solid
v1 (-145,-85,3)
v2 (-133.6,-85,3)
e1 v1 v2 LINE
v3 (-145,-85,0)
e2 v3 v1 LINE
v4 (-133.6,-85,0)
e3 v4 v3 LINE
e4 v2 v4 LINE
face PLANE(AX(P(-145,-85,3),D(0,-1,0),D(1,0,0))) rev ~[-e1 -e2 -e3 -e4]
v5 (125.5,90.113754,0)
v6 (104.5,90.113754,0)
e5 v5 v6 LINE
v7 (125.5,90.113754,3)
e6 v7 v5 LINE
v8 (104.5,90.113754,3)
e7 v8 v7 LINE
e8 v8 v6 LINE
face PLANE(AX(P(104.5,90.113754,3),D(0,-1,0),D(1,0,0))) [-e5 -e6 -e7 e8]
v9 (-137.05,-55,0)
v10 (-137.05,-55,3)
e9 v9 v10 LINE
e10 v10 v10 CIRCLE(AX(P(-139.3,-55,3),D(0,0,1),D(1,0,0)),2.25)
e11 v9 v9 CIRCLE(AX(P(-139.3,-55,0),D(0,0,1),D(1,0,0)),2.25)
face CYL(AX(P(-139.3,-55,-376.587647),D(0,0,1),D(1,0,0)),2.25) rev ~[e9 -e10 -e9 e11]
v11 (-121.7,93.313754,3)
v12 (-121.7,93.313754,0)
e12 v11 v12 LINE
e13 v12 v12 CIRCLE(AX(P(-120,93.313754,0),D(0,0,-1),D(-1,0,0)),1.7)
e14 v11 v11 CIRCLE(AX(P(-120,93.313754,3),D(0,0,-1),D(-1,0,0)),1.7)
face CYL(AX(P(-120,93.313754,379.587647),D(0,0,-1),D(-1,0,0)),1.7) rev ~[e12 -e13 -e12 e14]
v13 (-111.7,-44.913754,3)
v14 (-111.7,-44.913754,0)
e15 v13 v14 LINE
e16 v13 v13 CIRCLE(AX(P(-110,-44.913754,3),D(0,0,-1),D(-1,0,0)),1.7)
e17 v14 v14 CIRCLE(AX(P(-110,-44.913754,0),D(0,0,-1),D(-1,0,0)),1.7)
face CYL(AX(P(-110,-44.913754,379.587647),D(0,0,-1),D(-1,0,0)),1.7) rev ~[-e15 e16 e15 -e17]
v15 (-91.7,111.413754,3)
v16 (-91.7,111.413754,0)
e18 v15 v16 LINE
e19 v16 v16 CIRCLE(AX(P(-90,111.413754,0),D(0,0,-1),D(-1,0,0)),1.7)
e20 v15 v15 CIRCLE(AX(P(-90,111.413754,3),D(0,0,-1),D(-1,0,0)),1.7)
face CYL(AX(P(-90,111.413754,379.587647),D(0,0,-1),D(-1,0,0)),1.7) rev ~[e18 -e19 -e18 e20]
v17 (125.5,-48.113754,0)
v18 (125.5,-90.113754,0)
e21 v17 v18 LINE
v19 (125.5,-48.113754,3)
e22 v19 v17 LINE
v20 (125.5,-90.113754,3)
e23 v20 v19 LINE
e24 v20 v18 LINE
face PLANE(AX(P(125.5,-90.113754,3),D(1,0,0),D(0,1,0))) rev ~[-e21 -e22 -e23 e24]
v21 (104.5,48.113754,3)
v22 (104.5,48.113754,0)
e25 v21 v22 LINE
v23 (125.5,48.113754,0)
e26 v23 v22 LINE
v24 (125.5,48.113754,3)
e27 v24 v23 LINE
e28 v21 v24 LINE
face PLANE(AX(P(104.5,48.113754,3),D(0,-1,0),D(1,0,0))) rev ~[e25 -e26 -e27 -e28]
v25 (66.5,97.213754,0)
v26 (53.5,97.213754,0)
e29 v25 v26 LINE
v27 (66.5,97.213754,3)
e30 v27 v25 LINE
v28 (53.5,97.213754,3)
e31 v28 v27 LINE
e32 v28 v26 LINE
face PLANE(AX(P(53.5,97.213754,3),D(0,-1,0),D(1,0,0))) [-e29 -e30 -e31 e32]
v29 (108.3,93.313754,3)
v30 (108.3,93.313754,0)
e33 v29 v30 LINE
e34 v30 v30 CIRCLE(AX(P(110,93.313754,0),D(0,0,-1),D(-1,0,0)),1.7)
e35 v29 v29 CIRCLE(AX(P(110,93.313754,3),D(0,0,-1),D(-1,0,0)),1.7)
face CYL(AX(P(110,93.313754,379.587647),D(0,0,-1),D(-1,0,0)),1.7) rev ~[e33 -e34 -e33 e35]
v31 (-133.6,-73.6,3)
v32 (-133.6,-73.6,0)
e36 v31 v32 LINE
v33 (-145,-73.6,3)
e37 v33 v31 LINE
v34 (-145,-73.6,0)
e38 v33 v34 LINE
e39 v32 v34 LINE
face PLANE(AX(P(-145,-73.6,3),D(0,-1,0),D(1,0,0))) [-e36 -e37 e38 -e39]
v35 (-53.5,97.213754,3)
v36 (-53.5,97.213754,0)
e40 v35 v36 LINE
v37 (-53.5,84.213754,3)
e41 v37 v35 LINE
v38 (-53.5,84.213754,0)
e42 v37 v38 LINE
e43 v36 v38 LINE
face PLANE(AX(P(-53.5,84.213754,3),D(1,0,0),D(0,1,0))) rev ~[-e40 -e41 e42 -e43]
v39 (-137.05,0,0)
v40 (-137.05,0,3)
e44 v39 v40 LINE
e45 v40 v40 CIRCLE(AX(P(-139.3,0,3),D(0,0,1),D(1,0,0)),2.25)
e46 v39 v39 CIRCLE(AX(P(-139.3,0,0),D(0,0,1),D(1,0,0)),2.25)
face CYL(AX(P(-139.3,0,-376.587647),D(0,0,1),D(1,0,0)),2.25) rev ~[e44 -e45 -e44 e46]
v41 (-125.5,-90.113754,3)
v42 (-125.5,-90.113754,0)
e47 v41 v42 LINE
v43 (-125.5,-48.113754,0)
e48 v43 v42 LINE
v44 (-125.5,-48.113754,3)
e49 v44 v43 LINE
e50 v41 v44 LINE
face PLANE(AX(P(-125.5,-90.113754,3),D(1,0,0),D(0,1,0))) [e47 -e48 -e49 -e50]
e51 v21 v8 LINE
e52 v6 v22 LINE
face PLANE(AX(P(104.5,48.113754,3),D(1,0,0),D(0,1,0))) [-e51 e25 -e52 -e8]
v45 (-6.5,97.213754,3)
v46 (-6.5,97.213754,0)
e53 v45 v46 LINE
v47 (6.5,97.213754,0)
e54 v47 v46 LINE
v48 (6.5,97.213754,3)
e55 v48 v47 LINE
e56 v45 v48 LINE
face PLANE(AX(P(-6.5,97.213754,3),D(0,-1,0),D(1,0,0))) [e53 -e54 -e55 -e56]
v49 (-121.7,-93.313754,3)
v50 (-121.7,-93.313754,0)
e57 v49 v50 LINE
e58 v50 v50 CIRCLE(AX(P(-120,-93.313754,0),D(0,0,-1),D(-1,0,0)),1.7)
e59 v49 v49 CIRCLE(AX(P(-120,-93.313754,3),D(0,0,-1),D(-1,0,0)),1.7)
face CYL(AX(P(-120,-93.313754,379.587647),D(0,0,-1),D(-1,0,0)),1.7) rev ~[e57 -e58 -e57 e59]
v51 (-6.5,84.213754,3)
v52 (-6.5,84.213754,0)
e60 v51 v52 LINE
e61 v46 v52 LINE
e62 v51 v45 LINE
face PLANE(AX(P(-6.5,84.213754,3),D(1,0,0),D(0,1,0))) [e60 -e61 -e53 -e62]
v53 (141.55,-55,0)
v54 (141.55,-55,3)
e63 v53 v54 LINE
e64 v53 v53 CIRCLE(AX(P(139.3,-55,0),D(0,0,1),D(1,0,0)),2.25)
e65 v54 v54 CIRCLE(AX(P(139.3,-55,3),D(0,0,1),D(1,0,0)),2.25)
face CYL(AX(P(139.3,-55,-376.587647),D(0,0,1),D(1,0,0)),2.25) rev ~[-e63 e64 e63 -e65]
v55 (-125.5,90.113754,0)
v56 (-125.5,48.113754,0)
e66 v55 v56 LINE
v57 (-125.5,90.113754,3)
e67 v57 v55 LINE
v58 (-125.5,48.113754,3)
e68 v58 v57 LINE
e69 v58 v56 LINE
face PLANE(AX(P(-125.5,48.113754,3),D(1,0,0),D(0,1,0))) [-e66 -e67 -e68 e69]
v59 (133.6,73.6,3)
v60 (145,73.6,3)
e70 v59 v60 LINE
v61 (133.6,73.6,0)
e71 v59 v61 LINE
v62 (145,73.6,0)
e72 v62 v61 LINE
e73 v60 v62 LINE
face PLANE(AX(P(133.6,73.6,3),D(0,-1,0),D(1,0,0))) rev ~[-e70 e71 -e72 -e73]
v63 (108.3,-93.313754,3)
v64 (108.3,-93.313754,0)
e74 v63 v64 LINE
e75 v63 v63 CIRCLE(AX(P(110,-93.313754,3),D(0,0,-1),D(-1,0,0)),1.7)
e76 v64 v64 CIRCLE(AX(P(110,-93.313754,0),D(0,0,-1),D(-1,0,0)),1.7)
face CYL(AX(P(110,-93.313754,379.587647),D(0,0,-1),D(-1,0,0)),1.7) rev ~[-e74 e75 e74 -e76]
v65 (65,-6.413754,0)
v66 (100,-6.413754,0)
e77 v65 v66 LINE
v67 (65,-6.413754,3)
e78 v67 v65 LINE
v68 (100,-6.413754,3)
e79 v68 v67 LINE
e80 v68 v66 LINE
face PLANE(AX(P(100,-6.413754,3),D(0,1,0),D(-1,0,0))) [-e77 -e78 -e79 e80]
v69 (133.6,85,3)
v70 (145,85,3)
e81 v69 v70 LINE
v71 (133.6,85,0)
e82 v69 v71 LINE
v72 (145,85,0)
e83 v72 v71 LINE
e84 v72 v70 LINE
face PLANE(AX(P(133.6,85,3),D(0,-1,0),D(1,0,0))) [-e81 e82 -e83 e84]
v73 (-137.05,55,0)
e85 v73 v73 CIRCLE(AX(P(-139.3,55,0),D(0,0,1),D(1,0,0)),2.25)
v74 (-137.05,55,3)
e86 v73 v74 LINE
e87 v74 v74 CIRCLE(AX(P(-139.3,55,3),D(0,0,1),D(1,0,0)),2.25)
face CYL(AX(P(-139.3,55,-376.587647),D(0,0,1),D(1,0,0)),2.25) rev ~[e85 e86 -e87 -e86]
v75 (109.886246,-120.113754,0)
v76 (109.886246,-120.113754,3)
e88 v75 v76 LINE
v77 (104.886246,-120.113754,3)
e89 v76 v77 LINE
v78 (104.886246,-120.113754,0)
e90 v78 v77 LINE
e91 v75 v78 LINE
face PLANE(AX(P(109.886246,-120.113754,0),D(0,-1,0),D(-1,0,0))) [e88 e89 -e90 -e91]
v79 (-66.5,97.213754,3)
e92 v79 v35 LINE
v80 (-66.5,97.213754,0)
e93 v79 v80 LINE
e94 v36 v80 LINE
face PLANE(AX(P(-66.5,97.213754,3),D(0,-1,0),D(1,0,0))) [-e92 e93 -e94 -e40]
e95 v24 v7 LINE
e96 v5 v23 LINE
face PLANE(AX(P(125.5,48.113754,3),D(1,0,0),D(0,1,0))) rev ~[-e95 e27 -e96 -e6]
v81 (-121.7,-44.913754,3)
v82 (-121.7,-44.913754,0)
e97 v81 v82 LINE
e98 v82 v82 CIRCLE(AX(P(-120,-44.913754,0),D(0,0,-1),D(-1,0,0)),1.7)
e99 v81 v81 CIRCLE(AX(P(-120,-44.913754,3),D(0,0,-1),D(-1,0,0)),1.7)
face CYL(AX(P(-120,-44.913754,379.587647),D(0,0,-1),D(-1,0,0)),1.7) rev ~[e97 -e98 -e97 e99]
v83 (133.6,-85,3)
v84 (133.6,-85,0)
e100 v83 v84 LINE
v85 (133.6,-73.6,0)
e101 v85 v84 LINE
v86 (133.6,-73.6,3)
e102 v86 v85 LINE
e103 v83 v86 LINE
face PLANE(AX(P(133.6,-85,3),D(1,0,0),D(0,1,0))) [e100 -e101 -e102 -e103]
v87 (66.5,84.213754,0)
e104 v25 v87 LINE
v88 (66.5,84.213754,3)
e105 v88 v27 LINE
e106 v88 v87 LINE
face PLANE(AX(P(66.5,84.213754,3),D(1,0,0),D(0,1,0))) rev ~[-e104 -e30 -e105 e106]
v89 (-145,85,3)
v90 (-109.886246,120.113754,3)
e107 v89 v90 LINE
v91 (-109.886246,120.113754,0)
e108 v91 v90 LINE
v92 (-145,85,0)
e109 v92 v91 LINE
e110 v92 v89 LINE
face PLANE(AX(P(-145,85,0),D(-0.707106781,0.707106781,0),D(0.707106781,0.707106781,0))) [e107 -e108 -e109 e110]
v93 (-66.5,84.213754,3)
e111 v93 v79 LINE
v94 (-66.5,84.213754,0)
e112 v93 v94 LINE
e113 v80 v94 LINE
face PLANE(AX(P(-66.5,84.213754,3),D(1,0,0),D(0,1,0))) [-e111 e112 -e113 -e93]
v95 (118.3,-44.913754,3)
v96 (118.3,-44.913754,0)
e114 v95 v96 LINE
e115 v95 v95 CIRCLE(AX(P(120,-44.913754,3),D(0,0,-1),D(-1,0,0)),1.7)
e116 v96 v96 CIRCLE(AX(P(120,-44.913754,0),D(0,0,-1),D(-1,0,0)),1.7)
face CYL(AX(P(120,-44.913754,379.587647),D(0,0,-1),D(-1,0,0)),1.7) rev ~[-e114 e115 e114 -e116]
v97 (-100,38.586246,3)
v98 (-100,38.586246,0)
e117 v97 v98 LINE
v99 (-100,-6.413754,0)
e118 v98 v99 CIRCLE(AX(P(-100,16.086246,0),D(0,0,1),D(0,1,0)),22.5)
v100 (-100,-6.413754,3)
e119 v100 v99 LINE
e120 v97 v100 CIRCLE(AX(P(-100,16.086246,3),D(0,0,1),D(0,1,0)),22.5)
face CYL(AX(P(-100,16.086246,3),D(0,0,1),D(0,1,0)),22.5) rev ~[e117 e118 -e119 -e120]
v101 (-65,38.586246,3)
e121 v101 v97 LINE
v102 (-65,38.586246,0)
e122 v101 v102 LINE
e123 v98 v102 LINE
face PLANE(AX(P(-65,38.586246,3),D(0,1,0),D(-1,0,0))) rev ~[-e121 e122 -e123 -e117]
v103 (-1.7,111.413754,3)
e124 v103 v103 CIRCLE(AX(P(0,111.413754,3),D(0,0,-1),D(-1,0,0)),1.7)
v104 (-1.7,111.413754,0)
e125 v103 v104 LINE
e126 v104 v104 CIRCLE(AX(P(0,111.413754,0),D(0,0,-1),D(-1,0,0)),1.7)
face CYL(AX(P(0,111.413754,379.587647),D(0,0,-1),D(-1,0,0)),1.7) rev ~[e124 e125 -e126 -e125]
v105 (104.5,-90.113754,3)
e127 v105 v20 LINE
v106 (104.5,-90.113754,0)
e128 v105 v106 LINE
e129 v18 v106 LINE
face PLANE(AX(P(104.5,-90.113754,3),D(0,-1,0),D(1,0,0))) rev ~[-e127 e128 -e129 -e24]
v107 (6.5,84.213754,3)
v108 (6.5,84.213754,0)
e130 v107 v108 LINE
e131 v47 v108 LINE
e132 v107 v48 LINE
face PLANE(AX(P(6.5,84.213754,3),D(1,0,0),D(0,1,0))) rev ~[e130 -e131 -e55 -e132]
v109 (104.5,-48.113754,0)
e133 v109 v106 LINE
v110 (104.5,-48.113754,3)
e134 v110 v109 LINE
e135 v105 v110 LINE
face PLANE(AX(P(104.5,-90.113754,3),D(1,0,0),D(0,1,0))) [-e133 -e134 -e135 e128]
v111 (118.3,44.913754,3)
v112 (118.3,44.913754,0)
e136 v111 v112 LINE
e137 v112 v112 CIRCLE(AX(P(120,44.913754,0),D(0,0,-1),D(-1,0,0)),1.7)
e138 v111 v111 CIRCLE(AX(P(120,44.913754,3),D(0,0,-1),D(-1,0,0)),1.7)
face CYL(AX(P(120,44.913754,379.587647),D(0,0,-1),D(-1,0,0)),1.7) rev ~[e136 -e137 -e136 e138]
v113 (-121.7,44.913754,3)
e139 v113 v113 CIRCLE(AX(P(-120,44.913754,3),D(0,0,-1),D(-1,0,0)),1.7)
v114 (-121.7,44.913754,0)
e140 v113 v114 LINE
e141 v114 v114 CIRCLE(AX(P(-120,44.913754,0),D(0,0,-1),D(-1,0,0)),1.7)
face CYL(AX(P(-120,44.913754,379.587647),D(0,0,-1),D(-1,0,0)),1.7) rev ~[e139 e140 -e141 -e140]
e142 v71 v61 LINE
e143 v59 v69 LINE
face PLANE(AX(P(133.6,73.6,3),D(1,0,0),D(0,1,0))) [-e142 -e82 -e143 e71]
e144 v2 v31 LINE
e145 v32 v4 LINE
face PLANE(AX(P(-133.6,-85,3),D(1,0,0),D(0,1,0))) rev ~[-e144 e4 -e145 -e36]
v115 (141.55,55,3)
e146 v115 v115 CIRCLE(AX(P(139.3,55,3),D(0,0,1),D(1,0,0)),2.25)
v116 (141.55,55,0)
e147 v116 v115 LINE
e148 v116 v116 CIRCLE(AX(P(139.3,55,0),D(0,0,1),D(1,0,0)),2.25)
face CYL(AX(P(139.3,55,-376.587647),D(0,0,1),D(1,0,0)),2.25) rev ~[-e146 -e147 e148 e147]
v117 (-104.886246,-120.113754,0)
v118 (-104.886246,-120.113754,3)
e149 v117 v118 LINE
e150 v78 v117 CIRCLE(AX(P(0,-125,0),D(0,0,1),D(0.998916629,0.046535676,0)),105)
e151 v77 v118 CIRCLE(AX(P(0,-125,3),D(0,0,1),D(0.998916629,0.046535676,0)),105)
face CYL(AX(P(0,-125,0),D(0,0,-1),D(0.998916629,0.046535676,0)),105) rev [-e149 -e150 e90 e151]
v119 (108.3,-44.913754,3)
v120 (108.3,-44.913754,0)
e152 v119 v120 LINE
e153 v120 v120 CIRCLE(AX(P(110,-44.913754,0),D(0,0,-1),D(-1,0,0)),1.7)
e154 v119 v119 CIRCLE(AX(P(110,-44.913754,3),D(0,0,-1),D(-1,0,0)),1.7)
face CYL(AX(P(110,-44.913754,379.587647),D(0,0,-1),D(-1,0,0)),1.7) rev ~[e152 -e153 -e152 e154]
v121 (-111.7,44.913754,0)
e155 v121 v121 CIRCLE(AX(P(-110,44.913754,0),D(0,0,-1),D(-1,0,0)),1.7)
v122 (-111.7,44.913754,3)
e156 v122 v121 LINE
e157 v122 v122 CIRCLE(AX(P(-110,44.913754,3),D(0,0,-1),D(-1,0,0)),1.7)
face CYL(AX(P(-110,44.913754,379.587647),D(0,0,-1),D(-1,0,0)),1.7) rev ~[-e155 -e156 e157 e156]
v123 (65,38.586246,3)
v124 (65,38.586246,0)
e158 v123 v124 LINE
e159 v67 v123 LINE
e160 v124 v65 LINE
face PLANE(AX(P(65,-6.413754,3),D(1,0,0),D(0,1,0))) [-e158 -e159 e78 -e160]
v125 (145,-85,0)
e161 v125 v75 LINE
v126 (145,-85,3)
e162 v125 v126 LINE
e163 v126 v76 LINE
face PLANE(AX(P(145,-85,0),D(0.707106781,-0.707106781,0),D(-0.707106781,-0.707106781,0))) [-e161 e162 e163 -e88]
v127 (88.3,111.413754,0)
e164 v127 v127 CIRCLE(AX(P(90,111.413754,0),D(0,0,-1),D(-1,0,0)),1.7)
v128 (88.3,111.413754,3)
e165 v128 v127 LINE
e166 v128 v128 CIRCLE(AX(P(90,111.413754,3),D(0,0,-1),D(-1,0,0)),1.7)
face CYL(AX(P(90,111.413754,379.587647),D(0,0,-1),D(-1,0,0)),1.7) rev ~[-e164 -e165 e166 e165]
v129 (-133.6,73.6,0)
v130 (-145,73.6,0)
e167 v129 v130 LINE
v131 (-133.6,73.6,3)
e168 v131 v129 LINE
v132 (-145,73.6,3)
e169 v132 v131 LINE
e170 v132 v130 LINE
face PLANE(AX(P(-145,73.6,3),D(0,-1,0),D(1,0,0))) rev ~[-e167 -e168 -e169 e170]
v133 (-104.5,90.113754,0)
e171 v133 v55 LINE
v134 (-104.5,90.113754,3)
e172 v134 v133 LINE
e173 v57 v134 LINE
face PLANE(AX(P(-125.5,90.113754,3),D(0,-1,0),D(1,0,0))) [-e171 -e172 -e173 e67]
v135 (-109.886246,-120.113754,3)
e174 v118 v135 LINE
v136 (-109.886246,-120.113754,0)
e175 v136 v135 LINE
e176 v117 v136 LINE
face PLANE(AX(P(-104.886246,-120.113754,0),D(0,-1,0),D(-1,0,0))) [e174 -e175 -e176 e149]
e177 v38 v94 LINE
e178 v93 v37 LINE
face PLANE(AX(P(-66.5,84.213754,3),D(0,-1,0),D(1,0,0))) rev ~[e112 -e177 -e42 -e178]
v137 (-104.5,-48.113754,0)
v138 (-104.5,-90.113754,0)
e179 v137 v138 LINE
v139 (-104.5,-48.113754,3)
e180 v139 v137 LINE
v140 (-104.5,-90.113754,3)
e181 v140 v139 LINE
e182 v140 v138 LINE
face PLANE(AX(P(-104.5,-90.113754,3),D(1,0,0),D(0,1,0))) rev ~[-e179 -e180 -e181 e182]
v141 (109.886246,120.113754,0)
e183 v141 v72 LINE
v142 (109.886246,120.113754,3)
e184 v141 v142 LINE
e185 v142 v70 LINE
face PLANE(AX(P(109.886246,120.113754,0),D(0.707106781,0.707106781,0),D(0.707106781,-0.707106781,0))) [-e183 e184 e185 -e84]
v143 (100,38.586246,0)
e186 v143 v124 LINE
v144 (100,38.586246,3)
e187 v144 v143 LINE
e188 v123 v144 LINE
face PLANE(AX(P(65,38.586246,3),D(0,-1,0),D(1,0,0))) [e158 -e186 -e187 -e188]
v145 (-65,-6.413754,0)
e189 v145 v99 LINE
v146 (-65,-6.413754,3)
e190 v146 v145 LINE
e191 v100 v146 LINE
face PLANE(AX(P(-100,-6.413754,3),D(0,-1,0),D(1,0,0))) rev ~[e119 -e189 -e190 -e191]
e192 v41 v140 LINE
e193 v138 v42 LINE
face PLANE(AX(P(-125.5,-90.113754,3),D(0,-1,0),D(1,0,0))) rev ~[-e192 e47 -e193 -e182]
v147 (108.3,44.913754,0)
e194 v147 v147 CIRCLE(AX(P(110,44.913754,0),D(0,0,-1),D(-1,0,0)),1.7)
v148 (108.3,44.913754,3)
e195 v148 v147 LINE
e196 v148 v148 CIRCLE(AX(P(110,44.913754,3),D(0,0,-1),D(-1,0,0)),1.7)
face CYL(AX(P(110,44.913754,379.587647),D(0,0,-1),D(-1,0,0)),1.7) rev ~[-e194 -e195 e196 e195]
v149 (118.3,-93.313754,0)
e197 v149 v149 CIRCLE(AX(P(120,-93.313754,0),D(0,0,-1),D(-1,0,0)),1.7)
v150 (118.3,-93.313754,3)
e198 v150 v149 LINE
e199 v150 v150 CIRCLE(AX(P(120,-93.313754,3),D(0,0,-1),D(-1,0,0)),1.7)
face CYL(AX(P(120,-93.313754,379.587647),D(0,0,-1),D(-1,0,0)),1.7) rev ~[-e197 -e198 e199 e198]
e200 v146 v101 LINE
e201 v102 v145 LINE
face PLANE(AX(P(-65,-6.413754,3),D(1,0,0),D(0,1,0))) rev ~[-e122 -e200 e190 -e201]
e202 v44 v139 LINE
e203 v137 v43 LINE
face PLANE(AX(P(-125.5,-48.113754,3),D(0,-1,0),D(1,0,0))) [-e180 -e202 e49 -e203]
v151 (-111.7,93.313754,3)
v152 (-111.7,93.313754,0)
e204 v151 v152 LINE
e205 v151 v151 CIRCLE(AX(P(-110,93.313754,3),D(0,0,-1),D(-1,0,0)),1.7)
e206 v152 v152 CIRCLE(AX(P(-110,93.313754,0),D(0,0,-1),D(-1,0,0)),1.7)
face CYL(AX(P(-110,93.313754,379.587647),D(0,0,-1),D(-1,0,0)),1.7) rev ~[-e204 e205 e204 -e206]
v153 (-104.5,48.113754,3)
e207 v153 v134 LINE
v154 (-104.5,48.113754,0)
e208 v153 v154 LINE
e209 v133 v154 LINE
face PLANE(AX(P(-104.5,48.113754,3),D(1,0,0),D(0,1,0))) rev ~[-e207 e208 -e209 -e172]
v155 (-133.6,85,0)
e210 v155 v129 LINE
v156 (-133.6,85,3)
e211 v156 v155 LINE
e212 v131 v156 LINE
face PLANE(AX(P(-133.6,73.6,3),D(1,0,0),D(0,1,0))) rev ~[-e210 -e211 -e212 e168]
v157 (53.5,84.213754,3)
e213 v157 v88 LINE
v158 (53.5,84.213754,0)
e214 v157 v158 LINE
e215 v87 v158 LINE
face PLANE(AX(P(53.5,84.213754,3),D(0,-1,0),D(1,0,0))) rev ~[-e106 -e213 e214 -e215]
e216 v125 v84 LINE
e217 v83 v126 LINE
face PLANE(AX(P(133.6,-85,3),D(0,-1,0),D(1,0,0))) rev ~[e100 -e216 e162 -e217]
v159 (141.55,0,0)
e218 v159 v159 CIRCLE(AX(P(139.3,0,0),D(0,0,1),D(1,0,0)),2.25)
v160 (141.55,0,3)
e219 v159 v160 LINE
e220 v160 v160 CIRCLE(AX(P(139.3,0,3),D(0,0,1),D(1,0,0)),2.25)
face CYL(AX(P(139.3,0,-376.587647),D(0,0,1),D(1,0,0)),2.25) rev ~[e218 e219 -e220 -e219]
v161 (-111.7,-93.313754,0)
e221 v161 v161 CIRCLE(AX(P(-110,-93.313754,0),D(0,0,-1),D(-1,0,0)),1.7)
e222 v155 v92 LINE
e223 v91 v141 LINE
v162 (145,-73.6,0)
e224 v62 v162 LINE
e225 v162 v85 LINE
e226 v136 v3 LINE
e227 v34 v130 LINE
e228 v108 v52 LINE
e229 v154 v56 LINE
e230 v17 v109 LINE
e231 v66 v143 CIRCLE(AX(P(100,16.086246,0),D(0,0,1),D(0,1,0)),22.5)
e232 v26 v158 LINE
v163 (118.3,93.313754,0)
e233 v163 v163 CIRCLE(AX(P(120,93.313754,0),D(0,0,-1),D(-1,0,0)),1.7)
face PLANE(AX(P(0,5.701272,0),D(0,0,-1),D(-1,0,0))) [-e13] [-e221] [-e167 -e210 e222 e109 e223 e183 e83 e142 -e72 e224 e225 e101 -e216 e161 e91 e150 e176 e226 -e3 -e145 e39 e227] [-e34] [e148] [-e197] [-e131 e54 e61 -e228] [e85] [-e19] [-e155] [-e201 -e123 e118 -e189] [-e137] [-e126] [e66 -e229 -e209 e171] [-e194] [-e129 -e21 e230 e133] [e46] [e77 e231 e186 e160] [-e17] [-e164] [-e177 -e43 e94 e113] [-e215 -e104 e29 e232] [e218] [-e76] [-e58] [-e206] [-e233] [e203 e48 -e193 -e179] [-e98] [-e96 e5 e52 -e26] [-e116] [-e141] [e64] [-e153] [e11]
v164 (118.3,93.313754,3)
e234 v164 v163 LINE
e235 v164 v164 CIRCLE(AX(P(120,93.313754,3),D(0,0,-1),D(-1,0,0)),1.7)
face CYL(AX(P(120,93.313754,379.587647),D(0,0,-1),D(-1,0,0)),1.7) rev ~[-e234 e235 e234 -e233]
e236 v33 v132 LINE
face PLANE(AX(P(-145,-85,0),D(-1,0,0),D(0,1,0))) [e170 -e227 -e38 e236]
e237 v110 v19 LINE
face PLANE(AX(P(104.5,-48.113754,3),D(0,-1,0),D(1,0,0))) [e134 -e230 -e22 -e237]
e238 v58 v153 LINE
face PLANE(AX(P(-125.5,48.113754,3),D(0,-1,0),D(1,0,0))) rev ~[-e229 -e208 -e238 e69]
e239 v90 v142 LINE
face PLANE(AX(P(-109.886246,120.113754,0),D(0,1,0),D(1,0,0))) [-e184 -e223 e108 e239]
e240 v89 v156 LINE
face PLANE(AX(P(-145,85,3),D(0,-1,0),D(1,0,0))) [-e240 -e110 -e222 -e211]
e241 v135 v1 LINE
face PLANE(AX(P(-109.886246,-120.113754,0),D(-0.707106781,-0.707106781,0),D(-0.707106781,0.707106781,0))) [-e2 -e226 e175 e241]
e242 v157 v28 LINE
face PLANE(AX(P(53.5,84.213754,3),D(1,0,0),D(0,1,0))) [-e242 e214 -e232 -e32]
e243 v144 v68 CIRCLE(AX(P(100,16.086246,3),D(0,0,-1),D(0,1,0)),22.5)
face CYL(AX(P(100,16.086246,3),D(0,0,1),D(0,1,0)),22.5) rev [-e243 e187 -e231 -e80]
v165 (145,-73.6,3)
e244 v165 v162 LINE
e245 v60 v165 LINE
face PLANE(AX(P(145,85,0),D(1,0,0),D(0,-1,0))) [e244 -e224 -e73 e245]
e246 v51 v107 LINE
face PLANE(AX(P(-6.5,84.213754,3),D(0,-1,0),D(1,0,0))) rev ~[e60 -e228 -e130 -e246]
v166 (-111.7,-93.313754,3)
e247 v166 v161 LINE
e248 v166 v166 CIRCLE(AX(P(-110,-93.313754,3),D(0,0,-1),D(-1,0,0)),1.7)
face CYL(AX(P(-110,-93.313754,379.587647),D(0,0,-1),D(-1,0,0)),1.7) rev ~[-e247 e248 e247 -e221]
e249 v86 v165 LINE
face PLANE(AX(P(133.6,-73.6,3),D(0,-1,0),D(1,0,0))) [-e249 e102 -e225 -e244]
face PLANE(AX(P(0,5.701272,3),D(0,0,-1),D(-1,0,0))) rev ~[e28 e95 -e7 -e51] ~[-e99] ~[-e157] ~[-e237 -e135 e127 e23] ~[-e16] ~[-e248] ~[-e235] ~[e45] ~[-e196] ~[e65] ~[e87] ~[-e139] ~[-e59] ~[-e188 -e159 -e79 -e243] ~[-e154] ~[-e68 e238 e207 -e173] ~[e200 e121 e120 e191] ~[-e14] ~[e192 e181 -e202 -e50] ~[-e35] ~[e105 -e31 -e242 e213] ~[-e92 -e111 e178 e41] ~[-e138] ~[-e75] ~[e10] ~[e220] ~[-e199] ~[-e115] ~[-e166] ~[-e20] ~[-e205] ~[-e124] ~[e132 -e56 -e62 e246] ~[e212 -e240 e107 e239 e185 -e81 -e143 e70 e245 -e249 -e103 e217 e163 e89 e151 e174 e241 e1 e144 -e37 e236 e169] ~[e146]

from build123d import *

# Parameters (mm, degrees)
BOSS_EXTRU_1_DEPTH           = 3
ESQUISSE26_W                 = 21
ESQUISSE26_H                 = 42
ENL_V_MAT_EXTRU_1_DEPTH      = 4
ESQUISSE21_W                 = 11.4
ESQUISSE21_H                 = 11.4
ENL_V_MAT_EXTRU_3_DEPTH      = 4
D_GAGEMENT_M32_D             = 3.4
D_GAGEMENT_M33_D             = 3.4
ENL_V_MAT_EXTRU_4_DEPTH      = 10
ENL_V_MAT_EXTRU_4_DEPTH_BACK = 4
D_GAGEMENT_M41_D             = 4.5
ESQUISSE40_W                 = 13
ESQUISSE40_H                 = 13
ENL_V_MAT_EXTRU_5_DEPTH      = 4


with BuildPart() as part:
    # Esquisse1 → Boss.-Extru.1 (new body)
    with BuildSketch(Plane.XY):
        with BuildLine():
            Line((-145, 85), (-109.886246, 120.113754))
            Line((-109.886246, 120.113754), (109.886246, 120.113754))
            Line((109.886246, 120.113754), (145, 85))
            Line((145, 85), (145, -85))
            Line((145, -85), (109.886246, -120.113754))
            Line((109.886246, -120.113754), (104.886246, -120.113754))
            ThreePointArc((104.886246, -120.113754), (0, -20), (-104.886246, -120.113754))
            Line((-104.886246, -120.113754), (-109.886246, -120.113754))
            Line((-109.886246, -120.113754), (-145, -85))
            Line((-145, -85), (-145, 85))
        make_face()
    extrude(amount=BOSS_EXTRU_1_DEPTH)

    # Esquisse26 → Enlèv. mat.-Extru.1 (cut, through all)
    with BuildSketch(Plane.XY.offset(3)):
        with Locations((-115, -69.113754)):
            Rectangle(ESQUISSE26_W, ESQUISSE26_H)
        with Locations((-115, 69.113754)):
            Rectangle(ESQUISSE26_W, ESQUISSE26_H)
        with Locations((115, 69.113754)):
            Rectangle(ESQUISSE26_W, ESQUISSE26_H)
        with Locations((115, -69.113754)):
            Rectangle(ESQUISSE26_W, ESQUISSE26_H)
    extrude(amount=-ENL_V_MAT_EXTRU_1_DEPTH, mode=Mode.SUBTRACT)

    # Esquisse21 → Enlèv. mat.-Extru.3 (cut, through all)
    with BuildSketch(Plane.XY.offset(3)):
        with Locations((-139.3, 79.3)):
            Rectangle(ESQUISSE21_W, ESQUISSE21_H)
        with Locations((139.3, 79.3)):
            Rectangle(ESQUISSE21_W, ESQUISSE21_H)
        with Locations((-139.3, -79.3)):
            Rectangle(ESQUISSE21_W, ESQUISSE21_H)
        with Locations((139.3, -79.3)):
            Rectangle(ESQUISSE21_W, ESQUISSE21_H)
    extrude(amount=-ENL_V_MAT_EXTRU_3_DEPTH, mode=Mode.SUBTRACT)

    # Dégagement M32 (through all)
    with Locations(Plane.XY.offset(3)):
        with Locations((-120, 93.313754), (-110, 93.313754), (-120, 44.913754), (-110, 44.913754), (-120, -44.913754), (-110, -44.913754), (-120, -93.313754), (-110, -93.313754), (110, -93.313754), (120, -93.313754), (120, -44.913754), (110, -44.913754), (120, 44.913754), (110, 44.913754), (110, 93.313754), (120, 93.313754)):
            Hole(D_GAGEMENT_M32_D / 2)

    # Dégagement M33 (through all)
    with Locations(Plane.XY.offset(3)):
        with Locations((-90, 111.413754), (0, 111.413754), (90, 111.413754)):
            Hole(D_GAGEMENT_M33_D / 2)

    # Esquisse36 → Enlèv. mat.-Extru.4 (cut, two sides)
    with BuildSketch(Plane.XY.offset(3)) as enl_v_mat_extru_4_sk:
        with BuildLine():
            Line((-100, -6.413754), (-65, -6.413754))
            Line((-65, -6.413754), (-65, 38.586246))
            Line((-65, 38.586246), (-100, 38.586246))
            ThreePointArc((-100, 38.586246), (-122.5, 16.086246), (-100, -6.413754))
        make_face()
        with BuildLine():
            Line((100, -6.413754), (65, -6.413754))
            Line((65, -6.413754), (65, 38.586246))
            Line((65, 38.586246), (100, 38.586246))
            ThreePointArc((100, 38.586246), (122.5, 16.086246), (100, -6.413754))
        make_face()
    extrude(amount=ENL_V_MAT_EXTRU_4_DEPTH, mode=Mode.SUBTRACT)
    extrude(enl_v_mat_extru_4_sk.sketch, amount=-ENL_V_MAT_EXTRU_4_DEPTH_BACK, mode=Mode.SUBTRACT)

    # Dégagement M41 (through all)
    with Locations(Plane(origin=(0, 0, 0), x_dir=(-1, 0, 0), z_dir=(0, 0, -1))):
        with Locations((-139.3, 55), (-139.3, 0), (-139.3, -55), (139.3, 55), (139.3, 0), (139.3, -55)):
            Hole(D_GAGEMENT_M41_D / 2)

    # Esquisse40 → Enlèv. mat.-Extru.5 (cut, through all)
    with BuildSketch(Plane.XY.offset(3)):
        with Locations((-60, 90.713754)):
            Rectangle(ESQUISSE40_W, ESQUISSE40_H)
        with Locations((0, 90.713754)):
            Rectangle(ESQUISSE40_W, ESQUISSE40_H)
        with Locations((60, 90.713754)):
            Rectangle(ESQUISSE40_W, ESQUISSE40_H)
    extrude(amount=-ENL_V_MAT_EXTRU_5_DEPTH, mode=Mode.SUBTRACT)


solid = part.part
